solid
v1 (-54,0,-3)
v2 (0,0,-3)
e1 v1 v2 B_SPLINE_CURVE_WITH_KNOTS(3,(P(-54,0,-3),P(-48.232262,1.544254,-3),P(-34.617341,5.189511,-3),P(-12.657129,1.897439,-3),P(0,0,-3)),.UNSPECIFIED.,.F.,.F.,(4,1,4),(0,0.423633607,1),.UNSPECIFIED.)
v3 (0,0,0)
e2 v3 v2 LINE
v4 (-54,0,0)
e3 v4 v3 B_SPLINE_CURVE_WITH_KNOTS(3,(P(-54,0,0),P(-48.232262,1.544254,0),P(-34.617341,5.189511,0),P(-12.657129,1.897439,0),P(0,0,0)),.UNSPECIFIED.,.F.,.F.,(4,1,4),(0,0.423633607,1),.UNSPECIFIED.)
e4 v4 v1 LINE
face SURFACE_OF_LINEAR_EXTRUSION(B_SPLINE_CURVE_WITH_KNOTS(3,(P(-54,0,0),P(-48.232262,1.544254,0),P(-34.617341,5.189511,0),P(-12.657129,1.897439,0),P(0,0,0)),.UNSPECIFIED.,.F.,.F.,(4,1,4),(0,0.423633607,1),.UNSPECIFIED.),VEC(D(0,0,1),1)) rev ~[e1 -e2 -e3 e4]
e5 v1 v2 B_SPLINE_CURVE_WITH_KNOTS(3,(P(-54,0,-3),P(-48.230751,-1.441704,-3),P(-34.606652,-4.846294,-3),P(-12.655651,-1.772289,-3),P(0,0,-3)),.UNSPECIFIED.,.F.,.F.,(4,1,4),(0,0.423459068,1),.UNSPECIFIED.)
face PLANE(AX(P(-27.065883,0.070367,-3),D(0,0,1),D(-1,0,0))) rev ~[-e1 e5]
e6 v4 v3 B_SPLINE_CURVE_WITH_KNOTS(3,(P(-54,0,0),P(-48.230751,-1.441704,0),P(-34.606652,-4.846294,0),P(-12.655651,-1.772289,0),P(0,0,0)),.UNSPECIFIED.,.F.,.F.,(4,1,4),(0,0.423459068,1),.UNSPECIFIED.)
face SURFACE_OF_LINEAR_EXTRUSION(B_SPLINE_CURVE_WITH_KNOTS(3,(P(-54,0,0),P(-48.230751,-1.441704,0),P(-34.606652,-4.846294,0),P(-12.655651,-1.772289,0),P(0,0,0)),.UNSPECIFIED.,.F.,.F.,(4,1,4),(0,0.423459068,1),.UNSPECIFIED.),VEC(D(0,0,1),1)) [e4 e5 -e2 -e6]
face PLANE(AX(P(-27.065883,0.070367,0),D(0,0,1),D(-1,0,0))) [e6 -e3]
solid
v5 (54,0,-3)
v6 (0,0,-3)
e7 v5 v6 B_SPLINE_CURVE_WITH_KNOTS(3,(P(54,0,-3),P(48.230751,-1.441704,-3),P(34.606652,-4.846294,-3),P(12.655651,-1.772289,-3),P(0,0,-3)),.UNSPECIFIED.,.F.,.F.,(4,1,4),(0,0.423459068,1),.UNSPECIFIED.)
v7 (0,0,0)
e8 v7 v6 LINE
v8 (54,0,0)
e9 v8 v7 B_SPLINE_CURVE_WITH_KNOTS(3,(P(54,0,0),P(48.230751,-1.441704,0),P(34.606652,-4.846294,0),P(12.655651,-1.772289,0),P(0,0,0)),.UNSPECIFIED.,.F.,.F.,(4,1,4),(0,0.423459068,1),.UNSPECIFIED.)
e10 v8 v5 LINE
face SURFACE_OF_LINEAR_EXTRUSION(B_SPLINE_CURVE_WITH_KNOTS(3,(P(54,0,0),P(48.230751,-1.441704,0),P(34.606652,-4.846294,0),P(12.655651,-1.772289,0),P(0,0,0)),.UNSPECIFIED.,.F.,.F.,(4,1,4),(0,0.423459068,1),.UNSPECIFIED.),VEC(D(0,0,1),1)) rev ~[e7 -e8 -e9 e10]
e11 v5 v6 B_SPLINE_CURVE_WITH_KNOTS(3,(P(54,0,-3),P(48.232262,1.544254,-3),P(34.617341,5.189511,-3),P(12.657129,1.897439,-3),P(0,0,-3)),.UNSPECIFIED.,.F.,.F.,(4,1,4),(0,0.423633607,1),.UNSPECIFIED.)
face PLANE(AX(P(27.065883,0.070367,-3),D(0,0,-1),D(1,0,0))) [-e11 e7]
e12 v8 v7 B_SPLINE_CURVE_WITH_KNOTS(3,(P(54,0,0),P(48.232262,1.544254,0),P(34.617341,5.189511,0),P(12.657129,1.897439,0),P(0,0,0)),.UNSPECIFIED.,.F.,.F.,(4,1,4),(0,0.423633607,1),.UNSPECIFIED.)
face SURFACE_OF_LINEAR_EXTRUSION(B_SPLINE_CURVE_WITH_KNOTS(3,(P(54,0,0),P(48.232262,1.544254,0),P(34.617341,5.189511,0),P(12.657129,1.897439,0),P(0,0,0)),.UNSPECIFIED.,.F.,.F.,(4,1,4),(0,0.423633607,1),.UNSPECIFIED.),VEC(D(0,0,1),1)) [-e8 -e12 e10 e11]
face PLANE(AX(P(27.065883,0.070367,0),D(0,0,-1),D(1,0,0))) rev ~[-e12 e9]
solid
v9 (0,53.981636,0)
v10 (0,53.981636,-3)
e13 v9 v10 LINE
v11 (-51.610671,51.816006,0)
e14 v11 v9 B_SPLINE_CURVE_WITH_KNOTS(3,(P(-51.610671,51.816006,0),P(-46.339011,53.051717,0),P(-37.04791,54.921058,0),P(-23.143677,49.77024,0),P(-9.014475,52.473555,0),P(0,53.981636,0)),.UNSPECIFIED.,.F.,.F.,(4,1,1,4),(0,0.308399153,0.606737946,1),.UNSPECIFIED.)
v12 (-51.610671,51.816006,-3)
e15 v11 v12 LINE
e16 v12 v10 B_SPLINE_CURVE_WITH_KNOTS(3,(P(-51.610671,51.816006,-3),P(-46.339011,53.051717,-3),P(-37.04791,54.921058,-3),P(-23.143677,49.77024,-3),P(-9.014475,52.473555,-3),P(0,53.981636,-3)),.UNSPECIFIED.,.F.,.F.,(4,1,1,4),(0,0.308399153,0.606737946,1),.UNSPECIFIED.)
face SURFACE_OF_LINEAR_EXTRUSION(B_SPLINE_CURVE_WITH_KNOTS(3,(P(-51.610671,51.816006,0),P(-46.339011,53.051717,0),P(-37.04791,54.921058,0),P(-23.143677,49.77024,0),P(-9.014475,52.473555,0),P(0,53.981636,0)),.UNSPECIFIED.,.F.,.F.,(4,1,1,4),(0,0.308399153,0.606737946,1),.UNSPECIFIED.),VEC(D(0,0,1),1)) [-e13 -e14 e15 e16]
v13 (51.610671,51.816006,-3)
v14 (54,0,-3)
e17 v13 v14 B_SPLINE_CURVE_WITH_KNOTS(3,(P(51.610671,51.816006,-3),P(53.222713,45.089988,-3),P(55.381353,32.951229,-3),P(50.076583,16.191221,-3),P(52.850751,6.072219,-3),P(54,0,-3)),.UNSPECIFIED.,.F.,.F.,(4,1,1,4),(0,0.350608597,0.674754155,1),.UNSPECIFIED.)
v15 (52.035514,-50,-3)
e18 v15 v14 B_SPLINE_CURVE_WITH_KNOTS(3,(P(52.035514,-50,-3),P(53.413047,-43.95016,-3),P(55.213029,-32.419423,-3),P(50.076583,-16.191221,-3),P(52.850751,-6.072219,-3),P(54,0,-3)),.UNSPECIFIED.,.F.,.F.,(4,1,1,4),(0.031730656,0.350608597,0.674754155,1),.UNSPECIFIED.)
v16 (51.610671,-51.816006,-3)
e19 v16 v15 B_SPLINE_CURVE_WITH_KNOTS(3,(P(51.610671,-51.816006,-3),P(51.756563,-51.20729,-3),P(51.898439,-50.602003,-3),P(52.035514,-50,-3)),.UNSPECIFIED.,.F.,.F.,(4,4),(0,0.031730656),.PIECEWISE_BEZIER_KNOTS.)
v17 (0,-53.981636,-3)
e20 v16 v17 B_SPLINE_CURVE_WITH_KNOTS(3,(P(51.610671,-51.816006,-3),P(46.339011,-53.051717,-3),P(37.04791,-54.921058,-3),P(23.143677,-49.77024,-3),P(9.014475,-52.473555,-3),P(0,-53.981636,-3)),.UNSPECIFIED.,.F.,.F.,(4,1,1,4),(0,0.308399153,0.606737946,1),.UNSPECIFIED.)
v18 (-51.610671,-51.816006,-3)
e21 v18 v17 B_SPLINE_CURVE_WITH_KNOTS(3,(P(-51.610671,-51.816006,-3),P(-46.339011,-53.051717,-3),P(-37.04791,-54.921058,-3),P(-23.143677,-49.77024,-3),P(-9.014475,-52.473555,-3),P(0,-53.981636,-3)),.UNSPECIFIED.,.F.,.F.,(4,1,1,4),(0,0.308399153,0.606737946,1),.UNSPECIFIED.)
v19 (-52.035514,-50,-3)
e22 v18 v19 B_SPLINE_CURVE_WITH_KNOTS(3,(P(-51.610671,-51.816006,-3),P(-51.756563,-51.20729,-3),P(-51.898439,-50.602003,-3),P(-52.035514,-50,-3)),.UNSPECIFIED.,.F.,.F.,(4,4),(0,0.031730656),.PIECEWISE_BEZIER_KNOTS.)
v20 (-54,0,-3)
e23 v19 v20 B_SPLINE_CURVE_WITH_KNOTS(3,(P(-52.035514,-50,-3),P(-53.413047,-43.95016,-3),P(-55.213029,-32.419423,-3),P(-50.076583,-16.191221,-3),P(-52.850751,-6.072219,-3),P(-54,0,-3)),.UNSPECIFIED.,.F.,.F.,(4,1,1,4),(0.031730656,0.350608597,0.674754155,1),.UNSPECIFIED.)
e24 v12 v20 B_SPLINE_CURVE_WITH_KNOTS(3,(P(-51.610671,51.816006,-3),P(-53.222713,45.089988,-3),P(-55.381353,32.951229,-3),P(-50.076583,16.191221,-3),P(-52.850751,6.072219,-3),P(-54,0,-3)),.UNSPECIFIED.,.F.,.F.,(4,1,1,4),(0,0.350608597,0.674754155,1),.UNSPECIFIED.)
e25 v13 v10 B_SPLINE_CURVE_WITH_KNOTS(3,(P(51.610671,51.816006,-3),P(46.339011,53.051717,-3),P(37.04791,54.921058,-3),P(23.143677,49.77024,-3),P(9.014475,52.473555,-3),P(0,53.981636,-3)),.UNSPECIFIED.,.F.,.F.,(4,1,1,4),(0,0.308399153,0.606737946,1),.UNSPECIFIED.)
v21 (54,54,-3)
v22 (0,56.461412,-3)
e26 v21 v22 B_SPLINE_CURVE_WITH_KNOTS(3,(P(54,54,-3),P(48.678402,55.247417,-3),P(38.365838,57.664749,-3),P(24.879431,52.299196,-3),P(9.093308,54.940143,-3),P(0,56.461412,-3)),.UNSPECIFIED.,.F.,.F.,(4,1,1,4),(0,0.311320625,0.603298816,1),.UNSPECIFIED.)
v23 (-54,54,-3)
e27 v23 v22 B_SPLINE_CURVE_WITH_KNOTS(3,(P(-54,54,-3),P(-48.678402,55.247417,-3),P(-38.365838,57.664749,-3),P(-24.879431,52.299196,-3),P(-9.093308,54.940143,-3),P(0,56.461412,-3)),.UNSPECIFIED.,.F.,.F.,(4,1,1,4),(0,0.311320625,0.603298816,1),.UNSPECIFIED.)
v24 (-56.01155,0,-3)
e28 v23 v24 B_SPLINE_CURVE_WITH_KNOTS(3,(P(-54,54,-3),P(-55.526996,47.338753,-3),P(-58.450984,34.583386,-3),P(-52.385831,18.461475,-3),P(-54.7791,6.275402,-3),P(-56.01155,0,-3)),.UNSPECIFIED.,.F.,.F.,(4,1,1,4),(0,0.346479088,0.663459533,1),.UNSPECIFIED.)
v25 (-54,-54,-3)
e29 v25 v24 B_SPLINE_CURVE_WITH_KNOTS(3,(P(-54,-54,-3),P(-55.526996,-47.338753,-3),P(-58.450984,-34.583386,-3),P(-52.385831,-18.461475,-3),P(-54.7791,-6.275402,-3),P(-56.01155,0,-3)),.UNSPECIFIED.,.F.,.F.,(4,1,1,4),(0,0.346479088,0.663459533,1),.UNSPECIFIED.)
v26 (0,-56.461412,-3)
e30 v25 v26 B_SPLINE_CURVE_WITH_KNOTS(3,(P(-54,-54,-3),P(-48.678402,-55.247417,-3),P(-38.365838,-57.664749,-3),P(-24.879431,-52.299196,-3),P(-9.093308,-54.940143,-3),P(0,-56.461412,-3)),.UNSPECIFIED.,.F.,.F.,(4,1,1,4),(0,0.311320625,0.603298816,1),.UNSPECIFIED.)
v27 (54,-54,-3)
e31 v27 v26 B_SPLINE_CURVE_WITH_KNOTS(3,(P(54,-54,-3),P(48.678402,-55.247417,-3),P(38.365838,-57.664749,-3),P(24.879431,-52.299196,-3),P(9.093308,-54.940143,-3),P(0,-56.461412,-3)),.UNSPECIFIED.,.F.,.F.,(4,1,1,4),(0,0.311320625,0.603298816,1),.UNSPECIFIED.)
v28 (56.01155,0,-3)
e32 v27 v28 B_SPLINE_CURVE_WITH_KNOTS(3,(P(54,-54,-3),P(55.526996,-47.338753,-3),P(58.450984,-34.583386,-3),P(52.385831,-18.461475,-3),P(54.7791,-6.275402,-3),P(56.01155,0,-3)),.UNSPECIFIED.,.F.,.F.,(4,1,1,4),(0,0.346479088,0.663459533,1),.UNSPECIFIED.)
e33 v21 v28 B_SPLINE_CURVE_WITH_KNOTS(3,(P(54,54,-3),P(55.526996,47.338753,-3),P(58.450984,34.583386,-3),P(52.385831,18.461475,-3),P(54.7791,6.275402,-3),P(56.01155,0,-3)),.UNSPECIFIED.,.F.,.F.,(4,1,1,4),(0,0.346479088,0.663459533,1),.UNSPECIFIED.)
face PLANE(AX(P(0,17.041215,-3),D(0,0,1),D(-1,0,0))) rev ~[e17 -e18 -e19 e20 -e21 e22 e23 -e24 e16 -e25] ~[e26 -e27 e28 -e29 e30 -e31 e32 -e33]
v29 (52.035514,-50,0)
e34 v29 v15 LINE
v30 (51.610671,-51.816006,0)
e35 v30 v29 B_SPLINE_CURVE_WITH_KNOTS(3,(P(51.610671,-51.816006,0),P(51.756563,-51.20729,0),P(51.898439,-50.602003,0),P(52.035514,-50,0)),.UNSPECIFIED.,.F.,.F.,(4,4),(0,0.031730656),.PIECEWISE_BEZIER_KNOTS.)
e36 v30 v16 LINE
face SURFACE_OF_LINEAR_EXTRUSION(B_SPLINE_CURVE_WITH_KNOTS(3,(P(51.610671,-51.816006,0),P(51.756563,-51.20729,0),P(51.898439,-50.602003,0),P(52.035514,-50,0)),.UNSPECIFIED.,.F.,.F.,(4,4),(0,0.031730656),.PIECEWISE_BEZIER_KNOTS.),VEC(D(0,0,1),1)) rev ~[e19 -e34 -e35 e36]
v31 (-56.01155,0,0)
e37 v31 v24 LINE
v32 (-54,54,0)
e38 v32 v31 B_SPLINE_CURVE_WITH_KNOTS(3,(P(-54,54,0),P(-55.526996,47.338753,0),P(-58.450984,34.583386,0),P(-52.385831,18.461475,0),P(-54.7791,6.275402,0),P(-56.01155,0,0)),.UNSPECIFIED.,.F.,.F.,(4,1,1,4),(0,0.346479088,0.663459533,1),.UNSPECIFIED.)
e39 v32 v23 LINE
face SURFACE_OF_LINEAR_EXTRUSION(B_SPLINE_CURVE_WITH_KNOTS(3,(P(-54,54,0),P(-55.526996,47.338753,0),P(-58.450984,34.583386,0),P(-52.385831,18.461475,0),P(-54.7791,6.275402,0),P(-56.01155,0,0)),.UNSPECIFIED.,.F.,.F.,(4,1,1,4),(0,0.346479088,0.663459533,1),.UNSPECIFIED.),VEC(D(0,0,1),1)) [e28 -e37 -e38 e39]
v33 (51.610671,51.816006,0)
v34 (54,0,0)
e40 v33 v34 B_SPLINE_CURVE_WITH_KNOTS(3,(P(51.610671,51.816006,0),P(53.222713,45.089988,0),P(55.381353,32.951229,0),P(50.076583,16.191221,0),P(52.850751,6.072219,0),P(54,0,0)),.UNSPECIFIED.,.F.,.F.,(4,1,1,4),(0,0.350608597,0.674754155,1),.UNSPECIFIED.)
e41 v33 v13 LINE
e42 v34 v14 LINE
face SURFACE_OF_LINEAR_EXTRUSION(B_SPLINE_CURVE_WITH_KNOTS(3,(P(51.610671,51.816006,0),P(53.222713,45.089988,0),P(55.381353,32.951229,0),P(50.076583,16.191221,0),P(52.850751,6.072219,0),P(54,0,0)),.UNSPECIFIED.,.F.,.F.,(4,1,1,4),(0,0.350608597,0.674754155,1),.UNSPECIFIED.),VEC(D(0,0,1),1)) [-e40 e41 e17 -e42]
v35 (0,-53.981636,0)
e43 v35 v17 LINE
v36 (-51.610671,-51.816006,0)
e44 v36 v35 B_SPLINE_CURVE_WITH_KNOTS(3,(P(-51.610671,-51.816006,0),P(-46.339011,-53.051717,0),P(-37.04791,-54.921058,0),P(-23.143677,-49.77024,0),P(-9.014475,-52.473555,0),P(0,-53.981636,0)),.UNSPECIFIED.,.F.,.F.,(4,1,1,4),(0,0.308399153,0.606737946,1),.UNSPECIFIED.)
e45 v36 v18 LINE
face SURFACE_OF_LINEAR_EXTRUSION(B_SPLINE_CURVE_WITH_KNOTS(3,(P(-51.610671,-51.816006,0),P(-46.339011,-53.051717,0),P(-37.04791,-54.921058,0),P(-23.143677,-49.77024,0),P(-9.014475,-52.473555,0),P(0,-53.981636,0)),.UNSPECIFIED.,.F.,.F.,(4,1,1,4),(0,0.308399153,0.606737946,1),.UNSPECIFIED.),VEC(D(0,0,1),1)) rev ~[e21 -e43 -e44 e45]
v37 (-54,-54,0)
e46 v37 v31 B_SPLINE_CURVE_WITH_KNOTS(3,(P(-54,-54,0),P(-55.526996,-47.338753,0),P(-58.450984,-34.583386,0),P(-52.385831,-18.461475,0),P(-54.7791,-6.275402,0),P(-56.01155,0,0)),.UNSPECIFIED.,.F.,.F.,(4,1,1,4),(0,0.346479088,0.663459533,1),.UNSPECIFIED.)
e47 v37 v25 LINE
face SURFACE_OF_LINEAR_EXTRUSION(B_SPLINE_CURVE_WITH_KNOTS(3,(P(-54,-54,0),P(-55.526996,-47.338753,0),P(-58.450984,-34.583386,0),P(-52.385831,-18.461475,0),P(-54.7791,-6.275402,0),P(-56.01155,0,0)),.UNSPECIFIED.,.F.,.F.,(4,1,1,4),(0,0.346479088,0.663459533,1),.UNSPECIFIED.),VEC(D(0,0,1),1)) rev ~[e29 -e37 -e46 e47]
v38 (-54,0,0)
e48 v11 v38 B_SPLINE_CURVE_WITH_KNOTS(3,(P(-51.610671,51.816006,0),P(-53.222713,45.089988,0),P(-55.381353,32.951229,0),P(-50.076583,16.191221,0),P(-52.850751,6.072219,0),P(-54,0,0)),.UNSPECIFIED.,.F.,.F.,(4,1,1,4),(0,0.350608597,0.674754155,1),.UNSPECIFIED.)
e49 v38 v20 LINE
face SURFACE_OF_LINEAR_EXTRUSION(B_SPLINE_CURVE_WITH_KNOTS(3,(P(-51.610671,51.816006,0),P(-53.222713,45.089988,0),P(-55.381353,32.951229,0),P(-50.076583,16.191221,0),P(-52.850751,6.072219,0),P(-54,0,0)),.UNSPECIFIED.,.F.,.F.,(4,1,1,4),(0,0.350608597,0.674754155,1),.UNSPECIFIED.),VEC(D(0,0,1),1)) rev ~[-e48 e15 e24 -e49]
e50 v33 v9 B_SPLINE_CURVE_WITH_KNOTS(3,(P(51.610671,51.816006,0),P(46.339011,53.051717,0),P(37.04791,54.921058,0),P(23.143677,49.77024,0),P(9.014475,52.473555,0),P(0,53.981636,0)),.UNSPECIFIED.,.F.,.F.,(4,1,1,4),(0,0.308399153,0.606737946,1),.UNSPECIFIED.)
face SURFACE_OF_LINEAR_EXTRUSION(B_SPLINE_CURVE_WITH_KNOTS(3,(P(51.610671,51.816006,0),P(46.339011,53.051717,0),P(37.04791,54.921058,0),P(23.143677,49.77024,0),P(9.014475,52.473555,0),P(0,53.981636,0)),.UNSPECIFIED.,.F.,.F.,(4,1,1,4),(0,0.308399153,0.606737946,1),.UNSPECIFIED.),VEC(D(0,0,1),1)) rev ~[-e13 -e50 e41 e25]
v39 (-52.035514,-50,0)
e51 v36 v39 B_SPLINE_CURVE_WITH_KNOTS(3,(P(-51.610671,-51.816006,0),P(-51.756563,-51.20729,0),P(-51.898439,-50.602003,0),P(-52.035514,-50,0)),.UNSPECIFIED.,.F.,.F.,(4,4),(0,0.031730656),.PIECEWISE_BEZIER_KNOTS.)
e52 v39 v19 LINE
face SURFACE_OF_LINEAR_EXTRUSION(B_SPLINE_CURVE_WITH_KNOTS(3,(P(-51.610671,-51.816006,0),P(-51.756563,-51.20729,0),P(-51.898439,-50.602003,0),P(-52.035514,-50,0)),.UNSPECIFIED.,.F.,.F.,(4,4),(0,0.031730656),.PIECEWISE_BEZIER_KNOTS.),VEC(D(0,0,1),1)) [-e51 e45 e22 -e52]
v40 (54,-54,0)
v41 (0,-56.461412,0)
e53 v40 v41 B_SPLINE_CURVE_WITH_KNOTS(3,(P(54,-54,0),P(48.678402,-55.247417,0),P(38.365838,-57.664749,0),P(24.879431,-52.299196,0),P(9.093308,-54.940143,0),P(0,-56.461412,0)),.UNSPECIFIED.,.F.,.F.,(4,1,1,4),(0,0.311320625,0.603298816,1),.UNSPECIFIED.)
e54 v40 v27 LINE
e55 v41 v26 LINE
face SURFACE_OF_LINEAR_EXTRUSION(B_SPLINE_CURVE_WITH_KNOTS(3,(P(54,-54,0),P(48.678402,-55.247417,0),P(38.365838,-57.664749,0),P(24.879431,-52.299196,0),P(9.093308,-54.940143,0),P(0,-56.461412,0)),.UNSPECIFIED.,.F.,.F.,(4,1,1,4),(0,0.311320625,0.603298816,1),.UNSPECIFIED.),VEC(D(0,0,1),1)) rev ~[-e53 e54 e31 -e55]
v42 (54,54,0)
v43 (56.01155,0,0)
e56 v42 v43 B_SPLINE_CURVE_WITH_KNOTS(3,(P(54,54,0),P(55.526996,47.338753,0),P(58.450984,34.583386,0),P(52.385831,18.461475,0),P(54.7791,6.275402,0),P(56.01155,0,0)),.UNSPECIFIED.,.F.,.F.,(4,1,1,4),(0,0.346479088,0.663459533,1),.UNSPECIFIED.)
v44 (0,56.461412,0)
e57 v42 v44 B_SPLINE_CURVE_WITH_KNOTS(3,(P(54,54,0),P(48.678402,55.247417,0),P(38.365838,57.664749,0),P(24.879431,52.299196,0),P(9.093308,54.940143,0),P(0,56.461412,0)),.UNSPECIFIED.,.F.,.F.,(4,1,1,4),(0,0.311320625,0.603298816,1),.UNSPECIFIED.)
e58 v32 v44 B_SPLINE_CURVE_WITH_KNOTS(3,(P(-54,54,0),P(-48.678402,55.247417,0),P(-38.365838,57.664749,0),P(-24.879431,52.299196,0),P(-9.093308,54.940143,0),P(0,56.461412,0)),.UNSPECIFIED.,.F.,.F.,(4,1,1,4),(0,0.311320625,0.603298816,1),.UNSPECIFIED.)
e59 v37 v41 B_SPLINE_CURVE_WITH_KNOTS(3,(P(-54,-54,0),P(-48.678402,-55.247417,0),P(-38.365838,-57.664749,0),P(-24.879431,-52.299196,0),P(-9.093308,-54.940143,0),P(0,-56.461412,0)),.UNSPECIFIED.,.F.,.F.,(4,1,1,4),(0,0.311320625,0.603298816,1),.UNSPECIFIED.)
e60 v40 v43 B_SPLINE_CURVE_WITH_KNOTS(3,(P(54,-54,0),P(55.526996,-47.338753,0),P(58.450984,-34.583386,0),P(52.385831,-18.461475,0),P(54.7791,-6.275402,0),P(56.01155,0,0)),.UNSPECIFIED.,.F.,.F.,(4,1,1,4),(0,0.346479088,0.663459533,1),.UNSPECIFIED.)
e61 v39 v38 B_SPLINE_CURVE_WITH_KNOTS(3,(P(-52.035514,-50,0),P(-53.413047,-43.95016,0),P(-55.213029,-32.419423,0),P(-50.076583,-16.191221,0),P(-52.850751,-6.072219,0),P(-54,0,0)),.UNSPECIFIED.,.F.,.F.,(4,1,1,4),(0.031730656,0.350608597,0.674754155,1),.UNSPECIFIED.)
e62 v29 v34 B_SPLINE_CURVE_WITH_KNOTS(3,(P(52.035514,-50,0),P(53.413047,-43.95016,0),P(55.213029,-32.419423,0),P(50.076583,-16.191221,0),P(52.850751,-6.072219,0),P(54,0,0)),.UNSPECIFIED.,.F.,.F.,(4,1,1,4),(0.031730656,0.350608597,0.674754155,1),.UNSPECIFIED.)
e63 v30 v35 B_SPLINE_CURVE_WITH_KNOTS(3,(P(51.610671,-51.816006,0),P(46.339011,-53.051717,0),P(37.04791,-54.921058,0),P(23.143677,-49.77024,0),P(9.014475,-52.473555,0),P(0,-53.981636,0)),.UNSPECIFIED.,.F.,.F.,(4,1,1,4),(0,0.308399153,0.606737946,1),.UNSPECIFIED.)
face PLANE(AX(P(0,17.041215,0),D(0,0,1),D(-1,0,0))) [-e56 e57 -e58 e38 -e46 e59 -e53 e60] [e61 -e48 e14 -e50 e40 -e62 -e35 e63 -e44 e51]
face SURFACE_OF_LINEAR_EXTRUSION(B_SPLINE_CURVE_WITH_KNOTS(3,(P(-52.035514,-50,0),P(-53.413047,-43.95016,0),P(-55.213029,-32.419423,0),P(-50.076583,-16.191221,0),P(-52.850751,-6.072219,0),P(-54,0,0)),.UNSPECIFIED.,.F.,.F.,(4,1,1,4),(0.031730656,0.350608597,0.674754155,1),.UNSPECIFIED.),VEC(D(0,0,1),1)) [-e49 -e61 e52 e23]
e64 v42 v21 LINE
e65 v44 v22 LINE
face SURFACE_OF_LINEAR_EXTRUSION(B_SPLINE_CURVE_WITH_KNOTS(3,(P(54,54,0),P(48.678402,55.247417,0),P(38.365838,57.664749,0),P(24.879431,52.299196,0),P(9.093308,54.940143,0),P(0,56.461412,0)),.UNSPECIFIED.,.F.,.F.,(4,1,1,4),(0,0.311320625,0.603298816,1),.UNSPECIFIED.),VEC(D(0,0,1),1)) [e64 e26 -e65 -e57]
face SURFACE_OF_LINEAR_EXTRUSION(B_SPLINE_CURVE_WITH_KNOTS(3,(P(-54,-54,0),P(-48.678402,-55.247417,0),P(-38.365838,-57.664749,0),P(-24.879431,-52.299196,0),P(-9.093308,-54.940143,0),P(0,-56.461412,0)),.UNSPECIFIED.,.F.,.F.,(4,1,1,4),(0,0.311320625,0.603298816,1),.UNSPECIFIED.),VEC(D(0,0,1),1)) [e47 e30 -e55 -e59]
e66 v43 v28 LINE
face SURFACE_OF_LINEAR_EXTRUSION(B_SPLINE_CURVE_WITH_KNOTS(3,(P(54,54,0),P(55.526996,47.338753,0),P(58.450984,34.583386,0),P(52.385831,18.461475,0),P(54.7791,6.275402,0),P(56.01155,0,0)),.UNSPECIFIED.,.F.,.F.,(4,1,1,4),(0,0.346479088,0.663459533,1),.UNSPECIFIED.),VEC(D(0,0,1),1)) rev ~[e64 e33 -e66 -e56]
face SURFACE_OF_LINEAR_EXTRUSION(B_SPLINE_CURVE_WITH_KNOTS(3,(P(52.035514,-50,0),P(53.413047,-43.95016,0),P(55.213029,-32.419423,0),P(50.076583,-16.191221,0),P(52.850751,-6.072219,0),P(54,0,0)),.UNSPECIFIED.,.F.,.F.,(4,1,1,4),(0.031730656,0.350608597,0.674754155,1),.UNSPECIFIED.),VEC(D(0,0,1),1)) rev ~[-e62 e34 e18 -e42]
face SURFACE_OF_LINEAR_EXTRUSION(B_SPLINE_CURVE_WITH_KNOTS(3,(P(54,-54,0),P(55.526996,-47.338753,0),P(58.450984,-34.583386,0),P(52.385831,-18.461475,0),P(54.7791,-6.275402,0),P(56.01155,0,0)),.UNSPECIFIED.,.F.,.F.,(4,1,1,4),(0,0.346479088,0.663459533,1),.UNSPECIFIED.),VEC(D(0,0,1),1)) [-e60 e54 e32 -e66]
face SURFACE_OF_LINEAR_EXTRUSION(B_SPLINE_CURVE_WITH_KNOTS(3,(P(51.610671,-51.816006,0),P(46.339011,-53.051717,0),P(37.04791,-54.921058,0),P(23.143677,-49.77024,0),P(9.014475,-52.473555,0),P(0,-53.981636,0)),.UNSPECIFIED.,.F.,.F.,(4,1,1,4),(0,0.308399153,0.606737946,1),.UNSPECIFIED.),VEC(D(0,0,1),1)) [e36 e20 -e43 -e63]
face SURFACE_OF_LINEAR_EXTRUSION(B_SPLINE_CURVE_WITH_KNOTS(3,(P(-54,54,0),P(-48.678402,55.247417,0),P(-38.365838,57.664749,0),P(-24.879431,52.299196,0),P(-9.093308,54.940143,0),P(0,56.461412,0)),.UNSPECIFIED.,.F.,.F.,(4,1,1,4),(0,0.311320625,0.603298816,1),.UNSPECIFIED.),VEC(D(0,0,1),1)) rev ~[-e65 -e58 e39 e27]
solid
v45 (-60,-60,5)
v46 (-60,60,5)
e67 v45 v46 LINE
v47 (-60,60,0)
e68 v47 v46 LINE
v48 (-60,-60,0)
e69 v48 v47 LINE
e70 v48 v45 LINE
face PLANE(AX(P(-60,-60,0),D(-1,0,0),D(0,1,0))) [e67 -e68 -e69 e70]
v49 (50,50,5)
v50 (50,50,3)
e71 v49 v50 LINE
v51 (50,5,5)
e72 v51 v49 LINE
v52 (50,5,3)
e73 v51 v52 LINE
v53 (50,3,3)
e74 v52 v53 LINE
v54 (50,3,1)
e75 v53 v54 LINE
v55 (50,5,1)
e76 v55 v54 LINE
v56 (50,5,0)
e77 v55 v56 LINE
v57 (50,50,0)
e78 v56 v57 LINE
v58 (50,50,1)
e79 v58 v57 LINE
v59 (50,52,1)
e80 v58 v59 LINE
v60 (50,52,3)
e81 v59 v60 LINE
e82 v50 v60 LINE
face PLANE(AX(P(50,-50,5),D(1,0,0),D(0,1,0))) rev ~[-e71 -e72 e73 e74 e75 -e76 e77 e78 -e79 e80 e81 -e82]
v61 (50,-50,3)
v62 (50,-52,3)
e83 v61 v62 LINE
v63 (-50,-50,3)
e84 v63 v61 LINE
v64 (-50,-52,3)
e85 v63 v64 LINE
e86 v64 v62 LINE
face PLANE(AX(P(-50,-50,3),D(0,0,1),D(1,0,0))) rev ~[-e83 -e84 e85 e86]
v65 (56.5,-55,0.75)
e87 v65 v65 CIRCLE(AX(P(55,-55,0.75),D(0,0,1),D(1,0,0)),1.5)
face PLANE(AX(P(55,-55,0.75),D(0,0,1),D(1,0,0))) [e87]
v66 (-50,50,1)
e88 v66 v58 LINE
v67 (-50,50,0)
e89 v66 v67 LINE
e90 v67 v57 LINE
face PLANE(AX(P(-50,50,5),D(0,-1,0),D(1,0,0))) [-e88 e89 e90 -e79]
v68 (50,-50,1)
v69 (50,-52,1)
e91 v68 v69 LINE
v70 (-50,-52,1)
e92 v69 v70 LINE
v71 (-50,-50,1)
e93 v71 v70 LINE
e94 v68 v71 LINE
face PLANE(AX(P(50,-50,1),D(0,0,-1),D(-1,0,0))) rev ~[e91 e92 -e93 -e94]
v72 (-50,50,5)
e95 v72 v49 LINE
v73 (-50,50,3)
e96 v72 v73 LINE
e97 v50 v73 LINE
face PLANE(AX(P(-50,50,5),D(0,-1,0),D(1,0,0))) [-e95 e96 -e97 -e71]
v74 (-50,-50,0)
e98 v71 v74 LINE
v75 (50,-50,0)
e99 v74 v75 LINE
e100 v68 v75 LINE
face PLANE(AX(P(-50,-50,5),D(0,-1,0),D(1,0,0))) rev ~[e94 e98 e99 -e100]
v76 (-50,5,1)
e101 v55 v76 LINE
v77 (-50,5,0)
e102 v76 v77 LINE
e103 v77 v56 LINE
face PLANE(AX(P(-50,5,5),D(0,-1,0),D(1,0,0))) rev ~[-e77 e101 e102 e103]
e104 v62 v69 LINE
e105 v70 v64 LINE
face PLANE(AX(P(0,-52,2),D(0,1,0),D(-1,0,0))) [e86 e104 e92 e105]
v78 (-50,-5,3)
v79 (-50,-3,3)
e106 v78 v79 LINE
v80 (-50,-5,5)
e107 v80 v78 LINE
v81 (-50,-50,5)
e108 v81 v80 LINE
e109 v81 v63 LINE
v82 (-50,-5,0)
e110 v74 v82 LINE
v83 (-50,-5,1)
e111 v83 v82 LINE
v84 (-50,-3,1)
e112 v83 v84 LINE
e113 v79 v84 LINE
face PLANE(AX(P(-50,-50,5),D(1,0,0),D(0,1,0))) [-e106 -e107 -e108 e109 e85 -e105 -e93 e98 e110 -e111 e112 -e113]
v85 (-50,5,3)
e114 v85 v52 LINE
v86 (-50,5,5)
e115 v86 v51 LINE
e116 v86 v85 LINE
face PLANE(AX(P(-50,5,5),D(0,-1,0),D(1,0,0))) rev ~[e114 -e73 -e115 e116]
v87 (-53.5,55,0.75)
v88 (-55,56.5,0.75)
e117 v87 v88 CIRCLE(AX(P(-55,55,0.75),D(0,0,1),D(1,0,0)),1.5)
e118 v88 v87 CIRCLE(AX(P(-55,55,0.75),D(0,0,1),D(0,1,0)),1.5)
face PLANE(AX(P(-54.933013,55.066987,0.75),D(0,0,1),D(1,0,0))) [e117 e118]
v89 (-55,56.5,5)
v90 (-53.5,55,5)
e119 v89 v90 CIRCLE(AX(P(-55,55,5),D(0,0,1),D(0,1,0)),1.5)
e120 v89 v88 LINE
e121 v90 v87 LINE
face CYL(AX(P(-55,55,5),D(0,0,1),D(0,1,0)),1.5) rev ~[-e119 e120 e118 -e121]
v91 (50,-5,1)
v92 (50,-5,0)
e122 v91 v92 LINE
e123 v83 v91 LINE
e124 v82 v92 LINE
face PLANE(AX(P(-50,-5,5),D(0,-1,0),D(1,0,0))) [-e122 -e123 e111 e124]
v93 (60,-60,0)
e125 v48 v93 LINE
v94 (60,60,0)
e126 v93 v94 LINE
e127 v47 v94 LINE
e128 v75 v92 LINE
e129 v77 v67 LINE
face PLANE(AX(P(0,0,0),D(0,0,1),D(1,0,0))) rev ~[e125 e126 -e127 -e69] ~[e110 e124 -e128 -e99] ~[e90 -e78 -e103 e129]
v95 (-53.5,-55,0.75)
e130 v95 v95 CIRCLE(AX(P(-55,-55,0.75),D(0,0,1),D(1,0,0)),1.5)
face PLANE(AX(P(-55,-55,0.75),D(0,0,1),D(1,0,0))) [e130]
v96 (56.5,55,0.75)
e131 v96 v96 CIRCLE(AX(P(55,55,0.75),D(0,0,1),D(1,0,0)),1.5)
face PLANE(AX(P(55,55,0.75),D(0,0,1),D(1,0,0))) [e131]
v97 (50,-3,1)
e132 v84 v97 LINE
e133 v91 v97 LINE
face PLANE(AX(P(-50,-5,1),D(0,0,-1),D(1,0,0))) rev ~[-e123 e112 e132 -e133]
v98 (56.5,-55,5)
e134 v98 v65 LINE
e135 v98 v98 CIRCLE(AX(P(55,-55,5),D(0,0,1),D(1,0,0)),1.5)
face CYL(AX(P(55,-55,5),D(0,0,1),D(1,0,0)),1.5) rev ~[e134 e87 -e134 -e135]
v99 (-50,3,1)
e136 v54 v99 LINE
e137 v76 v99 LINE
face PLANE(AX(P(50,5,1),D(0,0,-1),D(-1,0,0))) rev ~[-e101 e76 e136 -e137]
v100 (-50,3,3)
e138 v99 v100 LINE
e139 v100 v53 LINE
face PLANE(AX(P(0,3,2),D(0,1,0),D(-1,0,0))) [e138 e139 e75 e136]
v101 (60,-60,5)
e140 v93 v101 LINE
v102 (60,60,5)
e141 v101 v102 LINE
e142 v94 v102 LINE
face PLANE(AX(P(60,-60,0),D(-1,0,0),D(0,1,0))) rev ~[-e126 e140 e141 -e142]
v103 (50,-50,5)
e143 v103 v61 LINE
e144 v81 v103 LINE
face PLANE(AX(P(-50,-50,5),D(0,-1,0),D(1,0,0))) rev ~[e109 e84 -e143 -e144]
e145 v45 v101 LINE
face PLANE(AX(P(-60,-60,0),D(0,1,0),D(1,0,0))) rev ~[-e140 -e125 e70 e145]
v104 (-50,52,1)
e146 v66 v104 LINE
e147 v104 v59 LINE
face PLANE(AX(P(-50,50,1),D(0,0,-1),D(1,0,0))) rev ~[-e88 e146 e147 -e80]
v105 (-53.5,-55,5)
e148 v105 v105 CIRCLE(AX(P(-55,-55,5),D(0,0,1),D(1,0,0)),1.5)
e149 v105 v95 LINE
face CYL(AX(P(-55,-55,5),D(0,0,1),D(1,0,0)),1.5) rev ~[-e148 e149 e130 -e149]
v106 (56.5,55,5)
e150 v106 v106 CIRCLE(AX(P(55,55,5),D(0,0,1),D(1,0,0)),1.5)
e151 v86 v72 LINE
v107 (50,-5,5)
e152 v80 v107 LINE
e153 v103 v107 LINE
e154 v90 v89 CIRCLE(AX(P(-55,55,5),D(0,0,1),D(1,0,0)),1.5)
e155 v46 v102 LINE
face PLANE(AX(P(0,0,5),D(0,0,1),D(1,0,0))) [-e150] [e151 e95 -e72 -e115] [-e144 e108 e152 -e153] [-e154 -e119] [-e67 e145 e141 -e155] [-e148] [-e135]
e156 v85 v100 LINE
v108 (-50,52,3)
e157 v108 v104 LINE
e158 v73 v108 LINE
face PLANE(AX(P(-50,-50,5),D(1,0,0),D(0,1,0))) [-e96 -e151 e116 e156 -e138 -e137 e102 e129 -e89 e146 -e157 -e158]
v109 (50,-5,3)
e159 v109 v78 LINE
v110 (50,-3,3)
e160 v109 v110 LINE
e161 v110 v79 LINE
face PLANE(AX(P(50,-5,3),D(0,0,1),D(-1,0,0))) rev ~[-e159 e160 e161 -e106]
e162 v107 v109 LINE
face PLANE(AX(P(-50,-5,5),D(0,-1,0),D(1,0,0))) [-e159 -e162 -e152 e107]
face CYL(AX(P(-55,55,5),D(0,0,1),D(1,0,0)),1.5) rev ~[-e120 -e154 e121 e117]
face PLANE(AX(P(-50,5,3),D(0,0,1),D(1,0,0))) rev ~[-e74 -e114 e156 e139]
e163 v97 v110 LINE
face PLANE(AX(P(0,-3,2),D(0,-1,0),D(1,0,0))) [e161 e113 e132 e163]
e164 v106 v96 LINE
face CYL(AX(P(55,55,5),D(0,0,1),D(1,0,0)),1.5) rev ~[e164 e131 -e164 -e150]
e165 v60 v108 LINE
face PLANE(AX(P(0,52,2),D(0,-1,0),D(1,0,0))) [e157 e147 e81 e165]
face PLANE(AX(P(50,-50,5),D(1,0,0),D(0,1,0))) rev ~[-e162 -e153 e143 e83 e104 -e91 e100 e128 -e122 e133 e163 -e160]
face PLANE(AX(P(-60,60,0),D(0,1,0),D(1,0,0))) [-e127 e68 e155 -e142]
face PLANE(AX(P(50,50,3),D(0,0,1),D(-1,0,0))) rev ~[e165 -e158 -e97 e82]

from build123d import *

# Parameters (mm, degrees)
F0_W      = 120
F0_H      = 120
F1_DEPTH  = 5
F2_W      = 100
F2_H      = 100
F3_DEPTH  = 5
F4_W      = 100
F4_H      = 10
F5_DEPTH  = 5
F7_DEPTH  = 2
F9_DEPTH  = 2
F11_DEPTH = 2
F13_DEPTH = 2
F14_R     = 1.5
F15_DEPTH = 4.25
F17_DEPTH = 3


with BuildPart() as f1:
    # F0 (on Top) → F1 (new body)
    with BuildSketch(Plane.XY):
        Rectangle(F0_W, F0_H)
    extrude(amount=F1_DEPTH)

    # F2 (on face) → F3 (cut)
    with BuildSketch(Plane.XY.offset(5)):
        Rectangle(F2_W, F2_H)
    extrude(amount=-F3_DEPTH, mode=Mode.SUBTRACT)

    # F4 (on face) → F5 (join)
    with BuildSketch(Plane.XY.offset(5)):
        Rectangle(F4_W, F4_H)
    extrude(amount=-F5_DEPTH)

    # F6 (on face) → F7 (cut)
    with BuildSketch(Plane(origin=(0, 5, 0), x_dir=(-1, 0, 0), z_dir=(0, 1, 0))):
        Polygon((-50, 1), (0, 1), (50, 1), (50, 3), (-50, 3), align=None)
    extrude(amount=-F7_DEPTH, mode=Mode.SUBTRACT)

    # F8 (on face) → F9 (cut)
    with BuildSketch(Plane.XZ.offset(-50)):
        Polygon((-50, 1), (0, 1), (50, 1), (50, 3), (-50, 3), align=None)
    extrude(amount=-F9_DEPTH, mode=Mode.SUBTRACT)

    # F10 (on face) → F11 (cut)
    with BuildSketch(Plane.XZ.offset(5)):
        Polygon((-50, 1), (0, 1), (50, 1), (50, 3), (-50, 3), align=None)
    extrude(amount=-F11_DEPTH, mode=Mode.SUBTRACT)

    # F12 (on face) → F13 (cut)
    with BuildSketch(Plane(origin=(0, -50, 0), x_dir=(-1, 0, 0), z_dir=(0, 1, 0))):
        Polygon((-50, 1), (0, 1), (50, 1), (50, 3), (-50, 3), align=None)
    extrude(amount=-F13_DEPTH, mode=Mode.SUBTRACT)

    # F14 (on face) → F15 (cut)
    with BuildSketch(Plane.XY.offset(5)):
        with BuildLine():
            ThreePointArc((-53.5, 55), (-53.9393398282, 56.0606601718), (-55, 56.5))
            ThreePointArc((-55, 56.5), (-56.0606601718, 53.9393398282), (-53.5, 55))
        make_face()
        with Locations((55, 55)):
            Circle(F14_R)
        with Locations((-55, -55)):
            Circle(F14_R)
        with Locations((55, -55)):
            Circle(F14_R)
    extrude(amount=-F15_DEPTH, mode=Mode.SUBTRACT)


with BuildPart() as f17:
    # F16 (on face) → F17 (new body)
    with BuildSketch(Plane(origin=(0, 0, 0), x_dir=(1, 0, 0), z_dir=(0, 0, -1))):
        with BuildLine():
            add(Edge.make_bspline(
                [(-52.0355137877, 50), (-53.4130465347, 43.9501603479), (-55.2130292926, 32.4194226977), (-50.0765832784, 16.1912205485), (-52.8507514546, 6.0722194825), (-54, 0)],
                knots=[0.0317306563, 0.0317306563, 0.0317306563, 0.0317306563, 0.3506085969, 0.6747541546, 1, 1, 1, 1], degree=3))
            Line((-52.0355137877, 50), (-54, 50))
            Line((-54, 50), (-54, 54))
            add(Edge.make_bspline(
                [(-54, 54), (-55.526996489, 47.3387527699), (-58.4509835735, 34.5833856113), (-52.3858314775, 18.4614750339), (-54.7791002275, 6.2754022767), (-56.0115501285, 0)],
                knots=[0, 0, 0, 0, 0.3464790875, 0.6634595325, 1, 1, 1, 1], degree=3))
            add(Edge.make_bspline(
                [(-54, -54), (-55.526996489, -47.3387527699), (-58.4509835735, -34.5833856113), (-52.3858314775, -18.4614750339), (-54.7791002275, -6.2754022767), (-56.0115501285, 0)],
                knots=[0, 0, 0, 0, 0.3464790875, 0.6634595325, 1, 1, 1, 1], degree=3))
            add(Edge.make_bspline(
                [(-54, -54), (-48.6784019716, -55.2474172449), (-38.3658382336, -57.6647493654), (-24.8794311821, -52.2991964671), (-9.0933080788, -54.940143262), (0, -56.4614124596)],
                knots=[0, 0, 0, 0, 0.3113206253, 0.6032988162, 1, 1, 1, 1], degree=3))
            add(Edge.make_bspline(
                [(54, -54), (48.6784019716, -55.2474172449), (38.3658382336, -57.6647493654), (24.8794311821, -52.2991964671), (9.0933080788, -54.940143262), (0, -56.4614124596)],
                knots=[0, 0, 0, 0, 0.3113206253, 0.6032988162, 1, 1, 1, 1], degree=3))
            add(Edge.make_bspline(
                [(54, -54), (55.526996489, -47.3387527699), (58.4509835735, -34.5833856113), (52.3858314775, -18.4614750339), (54.7791002275, -6.2754022767), (56.0115501285, 0)],
                knots=[0, 0, 0, 0, 0.3464790875, 0.6634595325, 1, 1, 1, 1], degree=3))
            add(Edge.make_bspline(
                [(54, 54), (55.526996489, 47.3387527699), (58.4509835735, 34.5833856113), (52.3858314775, 18.4614750339), (54.7791002275, 6.2754022767), (56.0115501285, 0)],
                knots=[0, 0, 0, 0, 0.3464790875, 0.6634595325, 1, 1, 1, 1], degree=3))
            Line((54, 54), (54, 50))
            Line((54, 50), (52.0355137877, 50))
            add(Edge.make_bspline(
                [(52.0355137877, 50), (53.4130465347, 43.9501603479), (55.2130292926, 32.4194226977), (50.0765832784, 16.1912205485), (52.8507514546, 6.0722194825), (54, 0)],
                knots=[0.0317306563, 0.0317306563, 0.0317306563, 0.0317306563, 0.3506085969, 0.6747541546, 1, 1, 1, 1], degree=3))
            add(Edge.make_bspline(
                [(51.6106709177, -51.8160055037), (53.2227134056, -45.0899877632), (55.3813531214, -32.9512287582), (50.0765832784, -16.1912205485), (52.8507514546, -6.0722194825), (54, 0)],
                knots=[0, 0, 0, 0, 0.3506085969, 0.6747541546, 1, 1, 1, 1], degree=3))
            add(Edge.make_bspline(
                [(51.6106709177, -51.8160055037), (46.3390114359, -53.051716828), (37.0479096559, -54.9210575543), (23.1436768388, -49.7702397152), (9.0144752829, -52.4735548912), (0, -53.9816357195)],
                knots=[0, 0, 0, 0, 0.3083991533, 0.6067379457, 1, 1, 1, 1], degree=3))
            add(Edge.make_bspline(
                [(-51.6106709177, -51.8160055037), (-46.3390114359, -53.051716828), (-37.0479096559, -54.9210575543), (-23.1436768388, -49.7702397152), (-9.0144752829, -52.4735548912), (0, -53.9816357195)],
                knots=[0, 0, 0, 0, 0.3083991533, 0.6067379457, 1, 1, 1, 1], degree=3))
            add(Edge.make_bspline(
                [(-51.6106709177, -51.8160055037), (-53.2227134056, -45.0899877632), (-55.3813531214, -32.9512287582), (-50.0765832784, -16.1912205485), (-52.8507514546, -6.0722194825), (-54, 0)],
                knots=[0, 0, 0, 0, 0.3506085969, 0.6747541546, 1, 1, 1, 1], degree=3))
        make_face()
        with BuildLine():
            Line((-54, 50), (-52.0355137877, 50))
            add(Edge.make_bspline(
                [(-51.6106709177, 51.8160055037), (-51.7565634218, 51.2072898041), (-51.8984393381, 50.6020027052), (-52.0355137877, 50)],
                knots=[0, 0, 0, 0, 0.0317306563, 0.0317306563, 0.0317306563, 0.0317306563], degree=3))
            add(Edge.make_bspline(
                [(-51.6106709177, 51.8160055037), (-46.3390114359, 53.051716828), (-37.0479096559, 54.9210575543), (-23.1436768388, 49.7702397152), (-9.0144752829, 52.4735548912), (0, 53.9816357195)],
                knots=[0, 0, 0, 0, 0.3083991533, 0.6067379457, 1, 1, 1, 1], degree=3))
            add(Edge.make_bspline(
                [(51.6106709177, 51.8160055037), (46.3390114359, 53.051716828), (37.0479096559, 54.9210575543), (23.1436768388, 49.7702397152), (9.0144752829, 52.4735548912), (0, 53.9816357195)],
                knots=[0, 0, 0, 0, 0.3083991533, 0.6067379457, 1, 1, 1, 1], degree=3))
            add(Edge.make_bspline(
                [(51.6106709177, 51.8160055037), (51.7565634218, 51.2072898041), (51.8984393381, 50.6020027052), (52.0355137877, 50)],
                knots=[0, 0, 0, 0, 0.0317306563, 0.0317306563, 0.0317306563, 0.0317306563], degree=3))
            Line((52.0355137877, 50), (54, 50))
            Line((54, 50), (54, 54))
            add(Edge.make_bspline(
                [(54, 54), (48.6784019716, 55.2474172449), (38.3658382336, 57.6647493654), (24.8794311821, 52.2991964671), (9.0933080788, 54.940143262), (0, 56.4614124596)],
                knots=[0, 0, 0, 0, 0.3113206253, 0.6032988162, 1, 1, 1, 1], degree=3))
            add(Edge.make_bspline(
                [(-54, 54), (-48.6784019716, 55.2474172449), (-38.3658382336, 57.6647493654), (-24.8794311821, 52.2991964671), (-9.0933080788, 54.940143262), (0, 56.4614124596)],
                knots=[0, 0, 0, 0, 0.3113206253, 0.6032988162, 1, 1, 1, 1], degree=3))
            Line((-54, 54), (-54, 50))
        make_face()
    extrude(amount=F17_DEPTH)


with BuildPart() as f17b:
    # F16 (on face) → F17, piece 2 (new body)
    with BuildSketch(Plane(origin=(0, 0, 0), x_dir=(1, 0, 0), z_dir=(0, 0, -1))):
        with BuildLine():
            add(Edge.make_bspline(
                [(54, 0), (48.2307514748, 1.4417043923), (34.6066518669, 4.8462941167), (12.6556506787, 1.7722894911), (0, 0)],
                knots=[0, 0, 0, 0, 0.4234590682, 1, 1, 1, 1], degree=3))
            add(Edge.make_bspline(
                [(54, 0), (48.2322619922, -1.5442535468), (34.6173411903, -5.1895109613), (12.6571285499, -1.8974394072), (0, 0)],
                knots=[0, 0, 0, 0, 0.423633607, 1, 1, 1, 1], degree=3))
        make_face()
    extrude(amount=F17_DEPTH)


with BuildPart() as f17c:
    # F16 (on face) → F17, piece 3 (new body)
    with BuildSketch(Plane(origin=(0, 0, 0), x_dir=(1, 0, 0), z_dir=(0, 0, -1))):
        with BuildLine():
            add(Edge.make_bspline(
                [(-54, 0), (-48.2307514748, 1.4417043923), (-34.6066518669, 4.8462941167), (-12.6556506787, 1.7722894911), (0, 0)],
                knots=[0, 0, 0, 0, 0.4234590682, 1, 1, 1, 1], degree=3))
            add(Edge.make_bspline(
                [(-54, 0), (-48.2322619922, -1.5442535468), (-34.6173411903, -5.1895109613), (-12.6571285499, -1.8974394072), (0, 0)],
                knots=[0, 0, 0, 0, 0.423633607, 1, 1, 1, 1], degree=3))
        make_face()
    extrude(amount=F17_DEPTH)


solid = Compound([f1.part, f17.part, f17b.part, f17c.part])
